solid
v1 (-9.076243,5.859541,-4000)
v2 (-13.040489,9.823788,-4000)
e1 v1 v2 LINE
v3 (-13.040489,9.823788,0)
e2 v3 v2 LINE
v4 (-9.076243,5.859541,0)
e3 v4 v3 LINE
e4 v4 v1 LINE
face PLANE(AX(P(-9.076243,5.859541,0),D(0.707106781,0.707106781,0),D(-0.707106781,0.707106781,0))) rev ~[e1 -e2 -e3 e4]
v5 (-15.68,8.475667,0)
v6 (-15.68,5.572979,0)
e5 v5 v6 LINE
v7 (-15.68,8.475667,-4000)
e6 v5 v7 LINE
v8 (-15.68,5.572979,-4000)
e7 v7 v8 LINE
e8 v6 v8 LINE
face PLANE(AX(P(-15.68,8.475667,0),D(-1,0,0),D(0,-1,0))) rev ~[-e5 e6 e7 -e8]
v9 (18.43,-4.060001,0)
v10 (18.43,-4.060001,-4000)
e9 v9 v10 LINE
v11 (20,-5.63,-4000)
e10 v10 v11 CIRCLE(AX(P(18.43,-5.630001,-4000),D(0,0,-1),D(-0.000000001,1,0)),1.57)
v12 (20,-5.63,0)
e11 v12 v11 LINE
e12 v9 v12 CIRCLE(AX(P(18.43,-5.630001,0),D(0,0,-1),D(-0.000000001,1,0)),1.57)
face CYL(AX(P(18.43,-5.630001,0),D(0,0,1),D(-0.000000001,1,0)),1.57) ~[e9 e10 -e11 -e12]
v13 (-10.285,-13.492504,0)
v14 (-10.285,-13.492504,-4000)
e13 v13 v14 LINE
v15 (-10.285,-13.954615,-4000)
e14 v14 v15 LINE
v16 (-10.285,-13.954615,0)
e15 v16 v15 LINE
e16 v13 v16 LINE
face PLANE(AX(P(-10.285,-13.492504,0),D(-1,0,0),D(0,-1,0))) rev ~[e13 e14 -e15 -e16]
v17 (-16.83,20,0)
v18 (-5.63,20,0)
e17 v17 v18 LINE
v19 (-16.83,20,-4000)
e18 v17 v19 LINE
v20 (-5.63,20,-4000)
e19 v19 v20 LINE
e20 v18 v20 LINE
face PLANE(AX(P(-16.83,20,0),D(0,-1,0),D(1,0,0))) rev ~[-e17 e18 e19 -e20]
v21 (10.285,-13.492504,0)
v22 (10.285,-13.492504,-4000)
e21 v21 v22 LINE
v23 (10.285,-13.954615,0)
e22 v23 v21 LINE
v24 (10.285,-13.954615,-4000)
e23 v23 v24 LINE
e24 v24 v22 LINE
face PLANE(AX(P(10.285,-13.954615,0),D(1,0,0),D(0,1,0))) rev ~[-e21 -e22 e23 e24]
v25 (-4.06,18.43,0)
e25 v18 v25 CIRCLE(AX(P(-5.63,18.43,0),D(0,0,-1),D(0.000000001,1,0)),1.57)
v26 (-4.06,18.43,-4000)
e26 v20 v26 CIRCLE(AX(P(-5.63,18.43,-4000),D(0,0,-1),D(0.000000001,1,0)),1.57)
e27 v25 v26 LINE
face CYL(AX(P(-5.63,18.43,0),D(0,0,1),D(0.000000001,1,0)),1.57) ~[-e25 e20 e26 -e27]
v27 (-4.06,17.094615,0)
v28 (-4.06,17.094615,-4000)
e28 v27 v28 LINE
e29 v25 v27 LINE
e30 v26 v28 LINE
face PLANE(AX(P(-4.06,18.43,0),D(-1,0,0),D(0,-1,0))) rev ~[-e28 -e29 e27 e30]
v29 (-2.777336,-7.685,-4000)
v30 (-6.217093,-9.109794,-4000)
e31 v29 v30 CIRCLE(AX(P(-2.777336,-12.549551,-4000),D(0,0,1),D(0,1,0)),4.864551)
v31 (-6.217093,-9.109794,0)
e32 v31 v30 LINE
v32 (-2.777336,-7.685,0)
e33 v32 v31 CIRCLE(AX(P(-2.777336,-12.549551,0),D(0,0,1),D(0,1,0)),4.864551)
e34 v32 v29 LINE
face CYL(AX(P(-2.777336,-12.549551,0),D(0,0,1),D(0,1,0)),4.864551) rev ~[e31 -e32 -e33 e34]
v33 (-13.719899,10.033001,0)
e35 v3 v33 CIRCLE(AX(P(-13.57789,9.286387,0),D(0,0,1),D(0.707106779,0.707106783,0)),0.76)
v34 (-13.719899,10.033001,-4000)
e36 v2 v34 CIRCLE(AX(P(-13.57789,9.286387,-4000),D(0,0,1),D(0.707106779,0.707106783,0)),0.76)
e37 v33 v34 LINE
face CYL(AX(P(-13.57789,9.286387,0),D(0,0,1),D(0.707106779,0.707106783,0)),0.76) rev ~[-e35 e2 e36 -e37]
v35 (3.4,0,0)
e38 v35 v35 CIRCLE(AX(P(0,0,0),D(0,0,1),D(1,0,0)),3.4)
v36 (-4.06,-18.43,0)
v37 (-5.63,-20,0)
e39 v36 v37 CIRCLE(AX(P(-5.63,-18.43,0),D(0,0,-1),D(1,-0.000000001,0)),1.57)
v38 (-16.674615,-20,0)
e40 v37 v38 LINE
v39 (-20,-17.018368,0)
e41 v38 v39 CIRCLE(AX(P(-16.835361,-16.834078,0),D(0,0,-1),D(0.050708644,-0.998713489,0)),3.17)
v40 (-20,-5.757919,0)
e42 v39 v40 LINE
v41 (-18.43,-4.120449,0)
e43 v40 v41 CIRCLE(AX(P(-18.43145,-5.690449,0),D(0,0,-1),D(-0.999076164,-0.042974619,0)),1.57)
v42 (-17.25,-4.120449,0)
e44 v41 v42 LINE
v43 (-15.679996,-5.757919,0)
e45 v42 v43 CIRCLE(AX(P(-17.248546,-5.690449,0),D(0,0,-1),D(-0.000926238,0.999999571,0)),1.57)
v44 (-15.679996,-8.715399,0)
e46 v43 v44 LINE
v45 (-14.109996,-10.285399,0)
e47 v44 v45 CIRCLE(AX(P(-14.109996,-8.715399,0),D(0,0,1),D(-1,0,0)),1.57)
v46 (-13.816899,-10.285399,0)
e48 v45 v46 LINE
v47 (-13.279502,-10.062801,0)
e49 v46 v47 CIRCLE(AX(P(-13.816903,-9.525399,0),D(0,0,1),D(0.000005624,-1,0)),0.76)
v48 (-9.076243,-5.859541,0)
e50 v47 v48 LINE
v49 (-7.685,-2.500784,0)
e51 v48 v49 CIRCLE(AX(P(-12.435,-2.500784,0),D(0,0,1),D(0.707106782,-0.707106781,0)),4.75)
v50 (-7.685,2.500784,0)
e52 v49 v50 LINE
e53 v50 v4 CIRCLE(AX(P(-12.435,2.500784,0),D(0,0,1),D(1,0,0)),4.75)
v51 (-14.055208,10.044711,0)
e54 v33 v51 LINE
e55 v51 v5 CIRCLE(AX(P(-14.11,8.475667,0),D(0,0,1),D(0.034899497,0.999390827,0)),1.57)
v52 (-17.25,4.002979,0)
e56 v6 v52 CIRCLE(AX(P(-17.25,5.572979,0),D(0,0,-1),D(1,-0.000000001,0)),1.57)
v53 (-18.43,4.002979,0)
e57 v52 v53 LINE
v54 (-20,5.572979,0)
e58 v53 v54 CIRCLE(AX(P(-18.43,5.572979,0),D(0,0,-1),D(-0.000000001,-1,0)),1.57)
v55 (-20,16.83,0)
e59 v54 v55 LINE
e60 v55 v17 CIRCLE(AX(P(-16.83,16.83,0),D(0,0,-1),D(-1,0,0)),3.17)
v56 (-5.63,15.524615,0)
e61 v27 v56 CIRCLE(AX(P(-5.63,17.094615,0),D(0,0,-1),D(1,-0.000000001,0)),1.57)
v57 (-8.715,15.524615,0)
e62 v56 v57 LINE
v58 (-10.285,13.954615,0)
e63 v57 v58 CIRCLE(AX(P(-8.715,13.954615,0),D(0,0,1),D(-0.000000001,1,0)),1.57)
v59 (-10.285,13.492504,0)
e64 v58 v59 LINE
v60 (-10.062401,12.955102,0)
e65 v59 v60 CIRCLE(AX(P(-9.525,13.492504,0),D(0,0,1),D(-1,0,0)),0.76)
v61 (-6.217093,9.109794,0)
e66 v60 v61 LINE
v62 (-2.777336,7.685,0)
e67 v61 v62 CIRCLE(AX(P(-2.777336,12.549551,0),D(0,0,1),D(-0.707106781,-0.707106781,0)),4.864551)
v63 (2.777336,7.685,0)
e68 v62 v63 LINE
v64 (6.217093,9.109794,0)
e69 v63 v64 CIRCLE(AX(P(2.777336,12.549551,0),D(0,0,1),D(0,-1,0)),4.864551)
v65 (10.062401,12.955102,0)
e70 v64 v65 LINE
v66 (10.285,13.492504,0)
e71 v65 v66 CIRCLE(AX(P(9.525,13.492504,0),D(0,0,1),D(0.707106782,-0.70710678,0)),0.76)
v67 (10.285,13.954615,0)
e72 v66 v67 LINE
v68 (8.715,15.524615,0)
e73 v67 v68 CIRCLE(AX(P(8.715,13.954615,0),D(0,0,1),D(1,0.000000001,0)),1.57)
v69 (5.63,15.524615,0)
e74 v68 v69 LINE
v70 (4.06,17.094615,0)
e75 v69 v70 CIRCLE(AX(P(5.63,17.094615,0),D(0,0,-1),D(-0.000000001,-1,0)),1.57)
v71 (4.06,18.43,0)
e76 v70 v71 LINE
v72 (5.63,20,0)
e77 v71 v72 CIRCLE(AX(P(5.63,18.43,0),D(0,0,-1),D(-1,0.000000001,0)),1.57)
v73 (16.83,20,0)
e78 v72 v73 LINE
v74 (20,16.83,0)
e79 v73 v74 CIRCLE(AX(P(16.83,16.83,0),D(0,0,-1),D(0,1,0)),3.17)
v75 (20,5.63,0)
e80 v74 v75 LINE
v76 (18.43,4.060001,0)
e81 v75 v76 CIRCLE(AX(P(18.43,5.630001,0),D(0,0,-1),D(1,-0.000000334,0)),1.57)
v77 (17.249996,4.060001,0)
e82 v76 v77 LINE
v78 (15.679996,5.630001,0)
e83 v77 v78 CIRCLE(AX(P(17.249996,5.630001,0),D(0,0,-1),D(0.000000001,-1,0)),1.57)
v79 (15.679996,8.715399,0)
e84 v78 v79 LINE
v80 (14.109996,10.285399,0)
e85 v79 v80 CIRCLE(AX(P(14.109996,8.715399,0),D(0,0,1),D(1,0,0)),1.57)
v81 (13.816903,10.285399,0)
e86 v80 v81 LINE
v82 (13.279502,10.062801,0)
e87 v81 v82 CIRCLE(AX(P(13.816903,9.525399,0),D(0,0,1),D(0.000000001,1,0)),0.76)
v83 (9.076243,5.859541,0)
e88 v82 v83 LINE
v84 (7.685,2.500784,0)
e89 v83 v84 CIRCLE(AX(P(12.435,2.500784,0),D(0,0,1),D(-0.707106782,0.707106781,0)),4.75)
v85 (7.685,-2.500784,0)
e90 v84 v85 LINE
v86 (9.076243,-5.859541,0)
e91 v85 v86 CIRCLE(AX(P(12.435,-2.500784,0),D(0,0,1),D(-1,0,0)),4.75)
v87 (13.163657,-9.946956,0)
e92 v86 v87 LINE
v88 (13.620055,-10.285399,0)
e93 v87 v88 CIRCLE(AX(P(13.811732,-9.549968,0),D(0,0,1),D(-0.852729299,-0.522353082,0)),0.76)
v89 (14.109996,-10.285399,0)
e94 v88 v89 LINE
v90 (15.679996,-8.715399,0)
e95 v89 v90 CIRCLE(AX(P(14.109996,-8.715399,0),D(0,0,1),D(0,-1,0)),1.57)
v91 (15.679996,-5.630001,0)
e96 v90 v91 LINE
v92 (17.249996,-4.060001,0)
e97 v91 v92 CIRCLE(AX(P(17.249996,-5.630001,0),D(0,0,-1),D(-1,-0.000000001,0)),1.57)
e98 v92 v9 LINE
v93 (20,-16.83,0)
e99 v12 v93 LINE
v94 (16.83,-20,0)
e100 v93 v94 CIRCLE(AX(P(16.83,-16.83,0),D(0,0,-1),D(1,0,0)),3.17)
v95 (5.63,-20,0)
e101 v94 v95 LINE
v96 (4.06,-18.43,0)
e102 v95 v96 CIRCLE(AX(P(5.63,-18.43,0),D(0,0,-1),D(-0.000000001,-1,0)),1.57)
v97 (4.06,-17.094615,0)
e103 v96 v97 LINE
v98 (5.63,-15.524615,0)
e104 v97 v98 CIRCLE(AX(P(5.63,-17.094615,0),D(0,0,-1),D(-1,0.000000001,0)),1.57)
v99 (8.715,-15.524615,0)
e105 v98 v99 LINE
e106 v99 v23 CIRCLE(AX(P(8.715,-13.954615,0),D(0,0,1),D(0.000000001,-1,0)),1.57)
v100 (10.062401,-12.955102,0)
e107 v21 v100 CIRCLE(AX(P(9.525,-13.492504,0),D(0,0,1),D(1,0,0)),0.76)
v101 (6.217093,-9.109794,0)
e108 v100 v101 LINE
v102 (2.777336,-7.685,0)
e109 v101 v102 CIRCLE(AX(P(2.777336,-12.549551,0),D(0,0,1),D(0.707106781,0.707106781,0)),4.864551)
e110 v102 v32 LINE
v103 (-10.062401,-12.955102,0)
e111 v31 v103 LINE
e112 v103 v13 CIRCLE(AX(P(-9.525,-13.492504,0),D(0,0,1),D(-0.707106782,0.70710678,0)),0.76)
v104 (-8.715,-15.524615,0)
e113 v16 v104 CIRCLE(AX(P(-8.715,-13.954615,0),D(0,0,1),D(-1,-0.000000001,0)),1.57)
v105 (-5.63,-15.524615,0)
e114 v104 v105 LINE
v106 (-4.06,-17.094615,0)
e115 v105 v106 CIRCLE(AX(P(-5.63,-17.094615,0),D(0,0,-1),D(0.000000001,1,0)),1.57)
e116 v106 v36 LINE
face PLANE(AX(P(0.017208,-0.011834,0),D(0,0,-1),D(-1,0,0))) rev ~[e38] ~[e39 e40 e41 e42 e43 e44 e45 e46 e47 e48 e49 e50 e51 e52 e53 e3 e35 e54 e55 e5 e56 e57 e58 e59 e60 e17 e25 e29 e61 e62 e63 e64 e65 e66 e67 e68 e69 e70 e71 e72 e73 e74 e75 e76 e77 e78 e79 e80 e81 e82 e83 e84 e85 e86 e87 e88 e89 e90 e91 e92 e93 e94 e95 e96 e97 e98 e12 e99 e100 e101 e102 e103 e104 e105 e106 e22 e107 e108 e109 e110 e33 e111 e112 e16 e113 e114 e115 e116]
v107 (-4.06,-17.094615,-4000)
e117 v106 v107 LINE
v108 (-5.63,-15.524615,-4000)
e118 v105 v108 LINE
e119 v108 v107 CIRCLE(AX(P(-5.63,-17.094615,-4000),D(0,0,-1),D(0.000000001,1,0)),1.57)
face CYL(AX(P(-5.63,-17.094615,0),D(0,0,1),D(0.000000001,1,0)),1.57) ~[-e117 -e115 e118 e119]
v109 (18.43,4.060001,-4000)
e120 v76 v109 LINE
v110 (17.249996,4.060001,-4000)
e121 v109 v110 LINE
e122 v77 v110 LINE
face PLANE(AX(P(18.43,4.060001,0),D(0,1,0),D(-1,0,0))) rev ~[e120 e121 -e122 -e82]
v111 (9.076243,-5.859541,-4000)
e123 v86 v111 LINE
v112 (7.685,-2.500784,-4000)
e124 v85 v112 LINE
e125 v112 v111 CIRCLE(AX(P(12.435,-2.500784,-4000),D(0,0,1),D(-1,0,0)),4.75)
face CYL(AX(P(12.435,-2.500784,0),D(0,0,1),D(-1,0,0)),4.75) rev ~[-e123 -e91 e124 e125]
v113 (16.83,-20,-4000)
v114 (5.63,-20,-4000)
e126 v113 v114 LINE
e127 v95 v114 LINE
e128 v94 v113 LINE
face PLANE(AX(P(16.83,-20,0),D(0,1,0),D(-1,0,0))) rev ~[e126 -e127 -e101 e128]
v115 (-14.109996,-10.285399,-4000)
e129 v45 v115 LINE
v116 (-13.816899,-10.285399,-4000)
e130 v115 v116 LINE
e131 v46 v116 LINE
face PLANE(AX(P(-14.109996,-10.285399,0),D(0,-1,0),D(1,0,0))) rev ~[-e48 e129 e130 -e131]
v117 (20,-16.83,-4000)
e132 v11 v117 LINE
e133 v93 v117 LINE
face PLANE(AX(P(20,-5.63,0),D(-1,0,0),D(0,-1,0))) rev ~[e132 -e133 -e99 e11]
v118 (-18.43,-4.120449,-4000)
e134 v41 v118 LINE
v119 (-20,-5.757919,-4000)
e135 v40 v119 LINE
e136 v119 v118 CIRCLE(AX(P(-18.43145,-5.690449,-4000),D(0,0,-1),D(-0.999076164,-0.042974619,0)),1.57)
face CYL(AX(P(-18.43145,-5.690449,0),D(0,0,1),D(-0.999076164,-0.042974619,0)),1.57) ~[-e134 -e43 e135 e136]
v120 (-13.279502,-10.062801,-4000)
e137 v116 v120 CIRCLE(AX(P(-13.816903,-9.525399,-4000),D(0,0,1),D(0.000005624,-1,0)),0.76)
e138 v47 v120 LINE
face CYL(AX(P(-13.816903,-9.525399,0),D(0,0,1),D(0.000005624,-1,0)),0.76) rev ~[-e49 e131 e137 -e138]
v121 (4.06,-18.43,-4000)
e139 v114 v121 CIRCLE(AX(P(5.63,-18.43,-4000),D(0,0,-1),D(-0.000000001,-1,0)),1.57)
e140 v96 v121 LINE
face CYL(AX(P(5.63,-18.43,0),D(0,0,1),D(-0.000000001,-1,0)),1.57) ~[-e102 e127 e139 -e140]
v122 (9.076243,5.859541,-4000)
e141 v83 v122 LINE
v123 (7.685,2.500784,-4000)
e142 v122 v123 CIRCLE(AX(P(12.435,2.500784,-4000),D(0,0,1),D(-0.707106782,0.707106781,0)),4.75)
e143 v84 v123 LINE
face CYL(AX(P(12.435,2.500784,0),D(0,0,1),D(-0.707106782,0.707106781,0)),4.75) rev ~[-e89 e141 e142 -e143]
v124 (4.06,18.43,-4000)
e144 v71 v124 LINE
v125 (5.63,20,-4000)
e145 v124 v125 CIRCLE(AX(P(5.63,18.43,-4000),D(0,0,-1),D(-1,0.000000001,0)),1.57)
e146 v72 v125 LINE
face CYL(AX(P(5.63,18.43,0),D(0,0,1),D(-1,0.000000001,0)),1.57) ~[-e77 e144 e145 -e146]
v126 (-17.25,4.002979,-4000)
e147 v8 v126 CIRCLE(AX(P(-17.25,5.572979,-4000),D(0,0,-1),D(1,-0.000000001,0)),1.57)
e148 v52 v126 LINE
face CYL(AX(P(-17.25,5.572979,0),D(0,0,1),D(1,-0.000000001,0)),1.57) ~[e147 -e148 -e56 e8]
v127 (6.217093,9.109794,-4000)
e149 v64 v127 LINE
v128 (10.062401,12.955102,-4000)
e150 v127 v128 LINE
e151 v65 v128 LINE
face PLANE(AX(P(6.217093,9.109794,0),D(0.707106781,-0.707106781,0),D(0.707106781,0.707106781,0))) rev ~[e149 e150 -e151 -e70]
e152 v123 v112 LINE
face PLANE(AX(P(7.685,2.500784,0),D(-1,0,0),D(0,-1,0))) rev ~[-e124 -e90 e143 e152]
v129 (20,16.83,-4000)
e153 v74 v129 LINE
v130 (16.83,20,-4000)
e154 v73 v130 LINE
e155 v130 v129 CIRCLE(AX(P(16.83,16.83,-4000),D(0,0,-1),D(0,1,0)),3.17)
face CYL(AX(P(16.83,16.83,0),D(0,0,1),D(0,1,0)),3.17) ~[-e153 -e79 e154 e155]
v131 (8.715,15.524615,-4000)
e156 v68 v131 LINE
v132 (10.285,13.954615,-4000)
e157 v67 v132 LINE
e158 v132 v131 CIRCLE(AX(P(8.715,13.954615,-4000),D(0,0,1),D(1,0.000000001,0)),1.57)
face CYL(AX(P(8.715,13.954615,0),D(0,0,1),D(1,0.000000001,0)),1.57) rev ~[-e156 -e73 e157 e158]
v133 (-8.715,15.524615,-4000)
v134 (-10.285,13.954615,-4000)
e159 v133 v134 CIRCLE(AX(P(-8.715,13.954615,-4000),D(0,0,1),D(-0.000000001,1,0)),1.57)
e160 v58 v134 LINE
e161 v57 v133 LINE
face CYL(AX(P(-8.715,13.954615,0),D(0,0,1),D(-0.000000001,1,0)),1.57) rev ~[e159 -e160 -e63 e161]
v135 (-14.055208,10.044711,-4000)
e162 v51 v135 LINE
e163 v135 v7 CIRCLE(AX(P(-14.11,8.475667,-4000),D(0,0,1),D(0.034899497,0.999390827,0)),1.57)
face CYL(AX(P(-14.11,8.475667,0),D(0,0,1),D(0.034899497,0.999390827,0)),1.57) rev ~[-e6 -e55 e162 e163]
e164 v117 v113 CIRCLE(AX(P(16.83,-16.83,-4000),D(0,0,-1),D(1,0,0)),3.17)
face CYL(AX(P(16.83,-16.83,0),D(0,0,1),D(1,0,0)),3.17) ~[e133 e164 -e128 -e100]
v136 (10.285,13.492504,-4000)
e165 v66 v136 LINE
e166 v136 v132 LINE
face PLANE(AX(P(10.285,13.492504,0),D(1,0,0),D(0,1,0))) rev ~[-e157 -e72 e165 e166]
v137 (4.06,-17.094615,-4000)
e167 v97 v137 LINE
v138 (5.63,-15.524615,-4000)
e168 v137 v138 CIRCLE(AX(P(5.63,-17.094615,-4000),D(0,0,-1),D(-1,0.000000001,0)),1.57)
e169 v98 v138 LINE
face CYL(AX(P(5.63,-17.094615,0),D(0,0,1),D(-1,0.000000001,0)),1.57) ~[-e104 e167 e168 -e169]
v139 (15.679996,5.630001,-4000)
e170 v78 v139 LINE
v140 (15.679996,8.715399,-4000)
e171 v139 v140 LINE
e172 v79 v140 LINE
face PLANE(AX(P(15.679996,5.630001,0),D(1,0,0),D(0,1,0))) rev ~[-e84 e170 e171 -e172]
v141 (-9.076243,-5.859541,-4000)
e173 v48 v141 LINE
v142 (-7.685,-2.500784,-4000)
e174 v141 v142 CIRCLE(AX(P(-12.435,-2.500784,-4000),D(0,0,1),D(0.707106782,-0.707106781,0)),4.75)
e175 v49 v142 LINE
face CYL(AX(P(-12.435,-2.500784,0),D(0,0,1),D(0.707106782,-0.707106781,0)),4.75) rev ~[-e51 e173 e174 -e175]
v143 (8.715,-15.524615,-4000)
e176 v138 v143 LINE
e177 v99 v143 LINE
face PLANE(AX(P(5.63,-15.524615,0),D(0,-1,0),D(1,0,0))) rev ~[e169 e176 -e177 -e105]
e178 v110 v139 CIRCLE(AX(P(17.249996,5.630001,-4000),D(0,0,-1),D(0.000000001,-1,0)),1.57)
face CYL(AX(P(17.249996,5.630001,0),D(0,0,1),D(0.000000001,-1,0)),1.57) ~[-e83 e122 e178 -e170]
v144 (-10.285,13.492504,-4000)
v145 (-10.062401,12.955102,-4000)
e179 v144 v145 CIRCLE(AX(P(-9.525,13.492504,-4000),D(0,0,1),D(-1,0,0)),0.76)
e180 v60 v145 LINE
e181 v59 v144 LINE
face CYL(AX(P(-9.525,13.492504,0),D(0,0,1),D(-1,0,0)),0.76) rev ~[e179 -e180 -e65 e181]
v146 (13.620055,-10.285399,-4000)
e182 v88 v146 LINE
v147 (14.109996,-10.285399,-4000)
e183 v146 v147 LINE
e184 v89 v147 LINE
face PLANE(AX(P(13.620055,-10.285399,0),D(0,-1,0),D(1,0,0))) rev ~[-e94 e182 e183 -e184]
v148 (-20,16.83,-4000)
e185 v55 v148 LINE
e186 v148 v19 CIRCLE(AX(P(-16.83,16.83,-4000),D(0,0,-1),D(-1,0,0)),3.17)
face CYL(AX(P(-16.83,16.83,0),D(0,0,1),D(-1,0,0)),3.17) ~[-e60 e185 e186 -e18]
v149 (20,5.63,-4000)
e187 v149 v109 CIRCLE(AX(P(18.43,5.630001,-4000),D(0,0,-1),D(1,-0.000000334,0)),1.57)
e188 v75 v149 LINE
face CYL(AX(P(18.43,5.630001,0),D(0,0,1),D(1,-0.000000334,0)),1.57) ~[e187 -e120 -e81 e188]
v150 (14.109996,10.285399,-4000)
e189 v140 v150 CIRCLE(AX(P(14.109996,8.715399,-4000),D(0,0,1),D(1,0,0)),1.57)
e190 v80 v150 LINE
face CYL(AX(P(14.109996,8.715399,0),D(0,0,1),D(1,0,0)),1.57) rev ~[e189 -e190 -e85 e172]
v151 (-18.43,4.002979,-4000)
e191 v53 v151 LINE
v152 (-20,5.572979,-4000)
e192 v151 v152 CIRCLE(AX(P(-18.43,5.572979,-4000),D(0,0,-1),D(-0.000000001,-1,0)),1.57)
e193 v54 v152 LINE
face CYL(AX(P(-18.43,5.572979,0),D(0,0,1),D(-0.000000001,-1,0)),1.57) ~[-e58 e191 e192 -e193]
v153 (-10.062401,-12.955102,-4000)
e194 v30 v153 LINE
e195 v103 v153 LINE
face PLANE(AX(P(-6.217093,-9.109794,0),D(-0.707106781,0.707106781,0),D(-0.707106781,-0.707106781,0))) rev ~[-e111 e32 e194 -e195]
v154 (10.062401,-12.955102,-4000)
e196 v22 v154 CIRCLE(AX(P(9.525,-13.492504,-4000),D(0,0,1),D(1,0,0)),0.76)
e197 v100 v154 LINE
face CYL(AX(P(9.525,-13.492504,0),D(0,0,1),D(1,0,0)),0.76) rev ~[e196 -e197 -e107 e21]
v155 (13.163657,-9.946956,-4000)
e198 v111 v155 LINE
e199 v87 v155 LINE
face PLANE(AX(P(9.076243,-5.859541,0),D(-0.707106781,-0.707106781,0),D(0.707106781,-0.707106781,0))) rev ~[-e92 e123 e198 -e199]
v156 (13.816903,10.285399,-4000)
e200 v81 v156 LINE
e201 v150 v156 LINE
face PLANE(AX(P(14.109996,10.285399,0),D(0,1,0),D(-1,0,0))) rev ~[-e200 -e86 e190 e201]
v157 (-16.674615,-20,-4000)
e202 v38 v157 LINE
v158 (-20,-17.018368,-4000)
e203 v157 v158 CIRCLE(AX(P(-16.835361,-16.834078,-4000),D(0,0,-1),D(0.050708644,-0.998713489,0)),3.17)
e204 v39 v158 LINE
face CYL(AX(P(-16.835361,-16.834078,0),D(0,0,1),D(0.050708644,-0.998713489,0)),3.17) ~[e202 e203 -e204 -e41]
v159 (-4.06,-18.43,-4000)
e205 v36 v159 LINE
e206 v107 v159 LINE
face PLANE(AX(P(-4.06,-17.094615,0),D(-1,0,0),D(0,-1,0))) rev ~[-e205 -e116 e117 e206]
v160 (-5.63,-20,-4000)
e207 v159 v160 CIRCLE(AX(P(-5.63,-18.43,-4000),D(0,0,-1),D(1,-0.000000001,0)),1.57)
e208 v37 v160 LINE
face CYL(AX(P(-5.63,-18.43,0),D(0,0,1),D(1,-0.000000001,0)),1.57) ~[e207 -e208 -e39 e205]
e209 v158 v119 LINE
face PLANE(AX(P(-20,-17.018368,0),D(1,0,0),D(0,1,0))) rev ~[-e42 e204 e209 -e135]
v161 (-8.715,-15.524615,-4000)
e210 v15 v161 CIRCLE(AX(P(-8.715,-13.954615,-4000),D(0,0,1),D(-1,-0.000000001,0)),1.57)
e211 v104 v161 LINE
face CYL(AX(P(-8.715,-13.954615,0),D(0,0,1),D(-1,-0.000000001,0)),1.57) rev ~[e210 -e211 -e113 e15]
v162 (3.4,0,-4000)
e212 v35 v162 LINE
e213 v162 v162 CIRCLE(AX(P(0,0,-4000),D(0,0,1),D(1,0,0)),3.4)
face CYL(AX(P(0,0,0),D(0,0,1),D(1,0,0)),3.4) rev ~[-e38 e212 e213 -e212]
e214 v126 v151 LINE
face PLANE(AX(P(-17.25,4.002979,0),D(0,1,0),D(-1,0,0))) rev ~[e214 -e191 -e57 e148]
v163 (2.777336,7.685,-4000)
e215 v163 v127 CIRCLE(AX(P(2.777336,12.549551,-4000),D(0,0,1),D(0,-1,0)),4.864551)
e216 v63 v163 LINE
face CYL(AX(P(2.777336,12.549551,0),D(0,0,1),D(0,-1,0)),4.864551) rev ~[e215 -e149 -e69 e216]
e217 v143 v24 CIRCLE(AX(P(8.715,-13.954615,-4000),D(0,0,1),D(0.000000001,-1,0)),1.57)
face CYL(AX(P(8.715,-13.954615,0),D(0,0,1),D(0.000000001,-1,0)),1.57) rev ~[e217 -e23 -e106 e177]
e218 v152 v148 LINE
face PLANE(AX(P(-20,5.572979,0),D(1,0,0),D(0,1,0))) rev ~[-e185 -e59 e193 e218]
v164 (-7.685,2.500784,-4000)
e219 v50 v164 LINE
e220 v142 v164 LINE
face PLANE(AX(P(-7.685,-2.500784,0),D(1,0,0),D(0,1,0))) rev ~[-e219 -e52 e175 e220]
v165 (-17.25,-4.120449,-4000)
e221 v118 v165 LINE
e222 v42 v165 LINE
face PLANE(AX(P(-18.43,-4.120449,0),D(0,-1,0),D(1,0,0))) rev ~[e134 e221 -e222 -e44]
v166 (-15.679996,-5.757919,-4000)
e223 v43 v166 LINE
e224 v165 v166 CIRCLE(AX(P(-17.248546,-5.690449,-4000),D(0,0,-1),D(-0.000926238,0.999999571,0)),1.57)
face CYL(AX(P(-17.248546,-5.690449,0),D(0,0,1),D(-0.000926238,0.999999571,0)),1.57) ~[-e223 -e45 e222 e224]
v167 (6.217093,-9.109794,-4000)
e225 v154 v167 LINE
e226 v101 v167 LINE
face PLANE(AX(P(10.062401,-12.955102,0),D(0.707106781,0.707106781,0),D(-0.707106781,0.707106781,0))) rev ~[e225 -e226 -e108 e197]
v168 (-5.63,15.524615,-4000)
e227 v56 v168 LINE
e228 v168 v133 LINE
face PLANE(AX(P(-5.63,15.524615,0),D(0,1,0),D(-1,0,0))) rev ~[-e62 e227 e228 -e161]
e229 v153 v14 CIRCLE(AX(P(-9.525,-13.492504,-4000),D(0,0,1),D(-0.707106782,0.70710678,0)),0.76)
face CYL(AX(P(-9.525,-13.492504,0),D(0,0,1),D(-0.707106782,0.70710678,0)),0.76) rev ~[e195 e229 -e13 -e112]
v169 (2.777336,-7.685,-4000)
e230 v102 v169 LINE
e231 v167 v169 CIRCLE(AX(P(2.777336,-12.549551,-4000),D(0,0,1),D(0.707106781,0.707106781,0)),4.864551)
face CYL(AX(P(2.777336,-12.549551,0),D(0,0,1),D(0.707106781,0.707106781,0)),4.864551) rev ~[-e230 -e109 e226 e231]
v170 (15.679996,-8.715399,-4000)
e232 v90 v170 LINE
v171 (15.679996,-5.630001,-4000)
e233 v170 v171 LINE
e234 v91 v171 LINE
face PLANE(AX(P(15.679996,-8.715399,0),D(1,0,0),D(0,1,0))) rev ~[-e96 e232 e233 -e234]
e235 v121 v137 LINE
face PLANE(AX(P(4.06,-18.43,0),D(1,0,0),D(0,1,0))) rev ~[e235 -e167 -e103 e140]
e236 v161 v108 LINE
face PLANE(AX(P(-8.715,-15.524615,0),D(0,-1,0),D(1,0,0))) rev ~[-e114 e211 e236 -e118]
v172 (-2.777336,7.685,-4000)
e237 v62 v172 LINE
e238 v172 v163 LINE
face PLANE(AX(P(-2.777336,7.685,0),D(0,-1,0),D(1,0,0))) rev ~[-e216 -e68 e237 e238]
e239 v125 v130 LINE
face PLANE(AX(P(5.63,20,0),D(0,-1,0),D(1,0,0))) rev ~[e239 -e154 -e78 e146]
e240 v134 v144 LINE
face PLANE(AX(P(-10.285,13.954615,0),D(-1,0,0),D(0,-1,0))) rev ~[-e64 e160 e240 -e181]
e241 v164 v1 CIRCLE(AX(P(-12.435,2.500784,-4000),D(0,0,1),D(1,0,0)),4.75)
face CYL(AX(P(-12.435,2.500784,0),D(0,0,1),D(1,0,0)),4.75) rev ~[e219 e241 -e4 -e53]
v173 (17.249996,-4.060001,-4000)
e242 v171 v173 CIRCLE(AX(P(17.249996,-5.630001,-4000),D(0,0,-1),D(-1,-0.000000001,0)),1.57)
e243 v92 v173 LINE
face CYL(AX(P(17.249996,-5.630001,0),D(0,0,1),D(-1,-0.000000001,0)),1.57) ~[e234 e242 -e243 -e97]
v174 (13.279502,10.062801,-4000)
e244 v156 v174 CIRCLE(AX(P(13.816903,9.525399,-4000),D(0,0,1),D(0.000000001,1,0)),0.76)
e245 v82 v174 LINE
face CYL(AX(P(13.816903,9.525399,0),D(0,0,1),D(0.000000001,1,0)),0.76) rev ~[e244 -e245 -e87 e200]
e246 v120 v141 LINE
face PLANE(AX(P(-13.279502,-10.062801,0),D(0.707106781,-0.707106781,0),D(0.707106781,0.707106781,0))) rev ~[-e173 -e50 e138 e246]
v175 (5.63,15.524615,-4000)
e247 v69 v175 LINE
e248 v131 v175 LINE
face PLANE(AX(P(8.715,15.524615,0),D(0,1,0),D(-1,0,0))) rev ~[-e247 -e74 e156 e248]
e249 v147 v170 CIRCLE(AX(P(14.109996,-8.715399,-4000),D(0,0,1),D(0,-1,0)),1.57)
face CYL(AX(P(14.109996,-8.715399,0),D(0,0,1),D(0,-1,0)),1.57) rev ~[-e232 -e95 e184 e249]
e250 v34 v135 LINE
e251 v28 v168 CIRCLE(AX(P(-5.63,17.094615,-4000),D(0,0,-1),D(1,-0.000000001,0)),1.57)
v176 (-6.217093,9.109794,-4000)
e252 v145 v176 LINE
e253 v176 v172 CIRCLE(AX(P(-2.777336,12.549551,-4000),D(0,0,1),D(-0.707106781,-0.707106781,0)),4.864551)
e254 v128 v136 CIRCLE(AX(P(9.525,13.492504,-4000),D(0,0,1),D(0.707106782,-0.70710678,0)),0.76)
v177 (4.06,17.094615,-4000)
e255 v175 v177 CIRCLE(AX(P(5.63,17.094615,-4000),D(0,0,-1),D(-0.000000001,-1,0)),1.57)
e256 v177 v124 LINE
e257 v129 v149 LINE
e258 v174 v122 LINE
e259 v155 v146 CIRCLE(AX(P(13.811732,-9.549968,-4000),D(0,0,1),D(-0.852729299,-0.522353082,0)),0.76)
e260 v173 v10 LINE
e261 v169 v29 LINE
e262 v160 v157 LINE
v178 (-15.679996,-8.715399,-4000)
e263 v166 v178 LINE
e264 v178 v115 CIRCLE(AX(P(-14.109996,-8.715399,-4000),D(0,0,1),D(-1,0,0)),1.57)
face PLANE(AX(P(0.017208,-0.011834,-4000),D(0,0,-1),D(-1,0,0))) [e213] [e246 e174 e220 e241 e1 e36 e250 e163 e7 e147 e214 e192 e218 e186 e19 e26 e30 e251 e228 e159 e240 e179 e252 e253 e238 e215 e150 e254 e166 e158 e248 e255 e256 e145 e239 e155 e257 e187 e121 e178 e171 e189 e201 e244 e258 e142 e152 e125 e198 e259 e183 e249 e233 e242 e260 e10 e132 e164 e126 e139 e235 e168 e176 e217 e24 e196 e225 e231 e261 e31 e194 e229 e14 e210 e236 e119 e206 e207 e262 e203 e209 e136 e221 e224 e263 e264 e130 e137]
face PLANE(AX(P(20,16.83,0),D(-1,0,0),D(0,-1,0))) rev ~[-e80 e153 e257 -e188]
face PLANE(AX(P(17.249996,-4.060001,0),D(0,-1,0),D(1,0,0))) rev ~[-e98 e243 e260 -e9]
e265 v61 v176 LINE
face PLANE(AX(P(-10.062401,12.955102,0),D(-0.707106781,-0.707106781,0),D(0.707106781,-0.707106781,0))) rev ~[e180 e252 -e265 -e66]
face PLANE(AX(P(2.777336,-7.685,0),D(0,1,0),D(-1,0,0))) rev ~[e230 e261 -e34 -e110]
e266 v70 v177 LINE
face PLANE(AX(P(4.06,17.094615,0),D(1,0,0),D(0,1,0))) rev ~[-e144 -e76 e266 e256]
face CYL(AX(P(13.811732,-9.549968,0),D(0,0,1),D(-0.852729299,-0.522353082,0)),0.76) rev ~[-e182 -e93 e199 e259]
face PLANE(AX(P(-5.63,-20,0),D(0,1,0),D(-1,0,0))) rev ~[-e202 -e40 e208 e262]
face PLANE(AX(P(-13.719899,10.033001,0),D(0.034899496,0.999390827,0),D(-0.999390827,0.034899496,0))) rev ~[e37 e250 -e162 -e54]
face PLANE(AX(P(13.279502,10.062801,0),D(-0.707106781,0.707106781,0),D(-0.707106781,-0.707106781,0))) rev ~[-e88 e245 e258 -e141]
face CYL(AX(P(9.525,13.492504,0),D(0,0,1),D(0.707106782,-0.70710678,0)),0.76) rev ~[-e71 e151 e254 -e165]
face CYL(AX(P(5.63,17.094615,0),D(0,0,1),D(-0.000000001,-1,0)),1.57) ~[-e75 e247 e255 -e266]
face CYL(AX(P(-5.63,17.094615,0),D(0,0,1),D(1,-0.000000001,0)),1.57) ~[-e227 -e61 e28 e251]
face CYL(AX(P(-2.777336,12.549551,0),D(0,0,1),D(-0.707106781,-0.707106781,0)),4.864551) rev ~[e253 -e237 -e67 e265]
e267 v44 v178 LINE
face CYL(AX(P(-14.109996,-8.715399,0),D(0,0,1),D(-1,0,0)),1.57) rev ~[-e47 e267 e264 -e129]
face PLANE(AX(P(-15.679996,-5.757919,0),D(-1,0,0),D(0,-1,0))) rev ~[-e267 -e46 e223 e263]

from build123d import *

# Parameters (mm, degrees)
SKETCH1_R      = 3.4
EXTRUDE1_DEPTH = 4000


with BuildPart() as part:
    # Sketch1 → Extrude1 (new body)
    with BuildSketch(Plane.XY):
        with BuildLine():
            Line((-8.715, -15.524615034), (-5.63, -15.524615034))
            ThreePointArc((-5.63, -15.524615034), (-4.519842354, -15.984457388), (-4.06, -17.094615034))
            Line((-4.06, -17.094615034), (-4.06, -18.43))
            ThreePointArc((-4.06, -18.43), (-4.519842354, -19.540157646), (-5.63, -20))
            Line((-5.63, -20), (-16.674615034, -20))
            ThreePointArc((-16.674615034, -20), (-18.951578385, -19.194274381), (-20, -17.018368134))
            Line((-20, -17.018368134), (-20, -5.757918808))
            ThreePointArc((-20, -5.757918808), (-19.564709668, -4.603883664), (-18.43, -4.120449326))
            Line((-18.43, -4.120449326), (-17.25, -4.120449326))
            ThreePointArc((-17.25, -4.120449326), (-16.115287682, -4.60388249), (-15.67999625, -5.757919334))
            Line((-15.67999625, -5.757919334), (-15.67999625, -8.715399492))
            ThreePointArc((-15.67999625, -8.715399492), (-15.220153896, -9.825557139), (-14.10999625, -10.285399492))
            Line((-14.10999625, -10.285399492), (-13.816898819, -10.285399492))
            ThreePointArc((-13.816898819, -10.285399492), (-13.526061711, -10.227547119), (-13.279501941, -10.062800646))
            Line((-13.279501941, -10.062800646), (-9.076242789, -5.859541495))
            ThreePointArc((-9.076242789, -5.859541495), (-8.046572221, -4.318530588), (-7.685, -2.500784284))
            Line((-7.685, -2.500784284), (-7.685, 2.500784284))
            ThreePointArc((-7.685, 2.500784284), (-8.046572221, 4.318530588), (-9.076242789, 5.859541495))
            Line((-9.076242789, 5.859541495), (-13.040489136, 9.823787841))
            ThreePointArc((-13.040489136, 9.823787841), (-13.354224618, 10.012729352), (-13.71989919, 10.033001362))
            Line((-13.71989919, 10.033001362), (-14.05520779, 10.044710596))
            ThreePointArc((-14.05520779, 10.044710596), (-15.200613642, 9.605030484), (-15.68, 8.475666998))
            Line((-15.68, 8.475666998), (-15.68, 5.572979049))
            ThreePointArc((-15.68, 5.572979049), (-16.139842354, 4.462821403), (-17.25, 4.002979049))
            Line((-17.25, 4.002979049), (-18.43, 4.002979049))
            ThreePointArc((-18.43, 4.002979049), (-19.540157646, 4.462821403), (-20, 5.572979049))
            Line((-20, 5.572979049), (-20, 13.004526564))
            Line((-20, 13.004526564), (-20, 16.83))
            ThreePointArc((-20, 16.83), (-19.071528496, 19.071528496), (-16.83, 20))
            Line((-16.83, 20), (-5.63, 20))
            ThreePointArc((-5.63, 20), (-4.519842354, 19.540157646), (-4.06, 18.43))
            Line((-4.06, 18.43), (-4.06, 17.094615034))
            ThreePointArc((-4.06, 17.094615034), (-4.519842354, 15.984457388), (-5.63, 15.524615034))
            Line((-5.63, 15.524615034), (-8.715, 15.524615034))
            ThreePointArc((-8.715, 15.524615034), (-9.825157646, 15.06477268), (-10.285, 13.954615034))
            Line((-10.285, 13.954615034), (-10.285, 13.492503602))
            ThreePointArc((-10.285, 13.492503602), (-10.227148445, 13.201664194), (-10.062401154, 12.955102448))
            Line((-10.062401154, 12.955102448), (-6.217092793, 9.109794088))
            ThreePointArc((-6.217092793, 9.109794088), (-4.63891877, 8.055291919), (-2.777335583, 7.685))
            Line((-2.777335583, 7.685), (2.777335583, 7.685))
            ThreePointArc((2.777335583, 7.685), (4.63891877, 8.055291919), (6.217092793, 9.109794088))
            Line((6.217092793, 9.109794088), (10.062401154, 12.955102448))
            ThreePointArc((10.062401154, 12.955102448), (10.227148445, 13.201664194), (10.285, 13.492503602))
            Line((10.285, 13.492503602), (10.285, 13.954615034))
            ThreePointArc((10.285, 13.954615034), (9.825157646, 15.06477268), (8.715, 15.524615034))
            Line((8.715, 15.524615034), (5.63, 15.524615034))
            ThreePointArc((5.63, 15.524615034), (4.519842354, 15.984457388), (4.06, 17.094615034))
            Line((4.06, 17.094615034), (4.06, 18.43))
            ThreePointArc((4.06, 18.43), (4.519842354, 19.540157646), (5.63, 20))
            Line((5.63, 20), (12.979635074, 20))
            Line((12.979635074, 20), (16.83, 20))
            ThreePointArc((16.83, 20), (19.071528496, 19.071528496), (20, 16.83))
            Line((20, 16.83), (20, 13.001098436))
            Line((20, 13.001098436), (20, 5.63))
            ThreePointArc((20, 5.63), (19.540157461, 4.519842693), (18.43, 4.060000526))
            Line((18.43, 4.060000526), (17.24999625, 4.060000526))
            ThreePointArc((17.24999625, 4.060000526), (16.139838603, 4.519842879), (15.67999625, 5.630000526))
            Line((15.67999625, 5.630000526), (15.67999625, 8.715399492))
            ThreePointArc((15.67999625, 8.715399492), (15.220153896, 9.825557139), (14.10999625, 10.285399492))
            Line((14.10999625, 10.285399492), (13.816903094, 10.285399492))
            ThreePointArc((13.816903094, 10.285399492), (13.526063686, 10.227547937), (13.279501941, 10.062800646))
            Line((13.279501941, 10.062800646), (9.076242789, 5.859541495))
            ThreePointArc((9.076242789, 5.859541495), (8.046572221, 4.318530588), (7.685, 2.500784284))
            Line((7.685, 2.500784284), (7.685, -2.500784284))
            ThreePointArc((7.685, -2.500784284), (8.046572221, -4.318530588), (9.076242789, -5.859541495))
            Line((9.076242789, -5.859541495), (13.163657296, -9.946956002))
            ThreePointArc((13.163657296, -9.946956002), (13.35903797, -10.160433474), (13.6200547, -10.285399492))
            Line((13.6200547, -10.285399492), (14.10999625, -10.285399492))
            ThreePointArc((14.10999625, -10.285399492), (15.220153896, -9.825557139), (15.67999625, -8.715399492))
            Line((15.67999625, -8.715399492), (15.67999625, -5.630000526))
            ThreePointArc((15.67999625, -5.630000526), (16.139838603, -4.519842879), (17.24999625, -4.060000526))
            Line((17.24999625, -4.060000526), (18.43, -4.060000526))
            ThreePointArc((18.43, -4.060000526), (19.540157461, -4.519842693), (20, -5.63))
            Line((20, -5.63), (20, -16.83))
            ThreePointArc((20, -16.83), (19.071528496, -19.071528496), (16.83, -20))
            Line((16.83, -20), (13, -20))
            Line((13, -20), (5.63, -20))
            ThreePointArc((5.63, -20), (4.519842354, -19.540157646), (4.06, -18.43))
            Line((4.06, -18.43), (4.06, -17.094615034))
            ThreePointArc((4.06, -17.094615034), (4.519842354, -15.984457388), (5.63, -15.524615034))
            Line((5.63, -15.524615034), (8.715, -15.524615034))
            ThreePointArc((8.715, -15.524615034), (9.825157646, -15.06477268), (10.285, -13.954615034))
            Line((10.285, -13.954615034), (10.285, -13.492503602))
            ThreePointArc((10.285, -13.492503602), (10.227148445, -13.201664194), (10.062401154, -12.955102448))
            Line((10.062401154, -12.955102448), (6.217092793, -9.109794088))
            ThreePointArc((6.217092793, -9.109794088), (4.63891877, -8.055291919), (2.777335583, -7.685))
            Line((2.777335583, -7.685), (-2.777335583, -7.685))
            ThreePointArc((-2.777335583, -7.685), (-4.63891877, -8.055291919), (-6.217092793, -9.109794088))
            Line((-6.217092793, -9.109794088), (-10.062401154, -12.955102448))
            ThreePointArc((-10.062401154, -12.955102448), (-10.227148445, -13.201664194), (-10.285, -13.492503602))
            Line((-10.285, -13.492503602), (-10.285, -13.954615034))
            ThreePointArc((-10.285, -13.954615034), (-9.825157646, -15.06477268), (-8.715, -15.524615034))
        make_face()
        Circle(SKETCH1_R, mode=Mode.SUBTRACT)
    extrude(amount=-EXTRUDE1_DEPTH)


solid = part.part
